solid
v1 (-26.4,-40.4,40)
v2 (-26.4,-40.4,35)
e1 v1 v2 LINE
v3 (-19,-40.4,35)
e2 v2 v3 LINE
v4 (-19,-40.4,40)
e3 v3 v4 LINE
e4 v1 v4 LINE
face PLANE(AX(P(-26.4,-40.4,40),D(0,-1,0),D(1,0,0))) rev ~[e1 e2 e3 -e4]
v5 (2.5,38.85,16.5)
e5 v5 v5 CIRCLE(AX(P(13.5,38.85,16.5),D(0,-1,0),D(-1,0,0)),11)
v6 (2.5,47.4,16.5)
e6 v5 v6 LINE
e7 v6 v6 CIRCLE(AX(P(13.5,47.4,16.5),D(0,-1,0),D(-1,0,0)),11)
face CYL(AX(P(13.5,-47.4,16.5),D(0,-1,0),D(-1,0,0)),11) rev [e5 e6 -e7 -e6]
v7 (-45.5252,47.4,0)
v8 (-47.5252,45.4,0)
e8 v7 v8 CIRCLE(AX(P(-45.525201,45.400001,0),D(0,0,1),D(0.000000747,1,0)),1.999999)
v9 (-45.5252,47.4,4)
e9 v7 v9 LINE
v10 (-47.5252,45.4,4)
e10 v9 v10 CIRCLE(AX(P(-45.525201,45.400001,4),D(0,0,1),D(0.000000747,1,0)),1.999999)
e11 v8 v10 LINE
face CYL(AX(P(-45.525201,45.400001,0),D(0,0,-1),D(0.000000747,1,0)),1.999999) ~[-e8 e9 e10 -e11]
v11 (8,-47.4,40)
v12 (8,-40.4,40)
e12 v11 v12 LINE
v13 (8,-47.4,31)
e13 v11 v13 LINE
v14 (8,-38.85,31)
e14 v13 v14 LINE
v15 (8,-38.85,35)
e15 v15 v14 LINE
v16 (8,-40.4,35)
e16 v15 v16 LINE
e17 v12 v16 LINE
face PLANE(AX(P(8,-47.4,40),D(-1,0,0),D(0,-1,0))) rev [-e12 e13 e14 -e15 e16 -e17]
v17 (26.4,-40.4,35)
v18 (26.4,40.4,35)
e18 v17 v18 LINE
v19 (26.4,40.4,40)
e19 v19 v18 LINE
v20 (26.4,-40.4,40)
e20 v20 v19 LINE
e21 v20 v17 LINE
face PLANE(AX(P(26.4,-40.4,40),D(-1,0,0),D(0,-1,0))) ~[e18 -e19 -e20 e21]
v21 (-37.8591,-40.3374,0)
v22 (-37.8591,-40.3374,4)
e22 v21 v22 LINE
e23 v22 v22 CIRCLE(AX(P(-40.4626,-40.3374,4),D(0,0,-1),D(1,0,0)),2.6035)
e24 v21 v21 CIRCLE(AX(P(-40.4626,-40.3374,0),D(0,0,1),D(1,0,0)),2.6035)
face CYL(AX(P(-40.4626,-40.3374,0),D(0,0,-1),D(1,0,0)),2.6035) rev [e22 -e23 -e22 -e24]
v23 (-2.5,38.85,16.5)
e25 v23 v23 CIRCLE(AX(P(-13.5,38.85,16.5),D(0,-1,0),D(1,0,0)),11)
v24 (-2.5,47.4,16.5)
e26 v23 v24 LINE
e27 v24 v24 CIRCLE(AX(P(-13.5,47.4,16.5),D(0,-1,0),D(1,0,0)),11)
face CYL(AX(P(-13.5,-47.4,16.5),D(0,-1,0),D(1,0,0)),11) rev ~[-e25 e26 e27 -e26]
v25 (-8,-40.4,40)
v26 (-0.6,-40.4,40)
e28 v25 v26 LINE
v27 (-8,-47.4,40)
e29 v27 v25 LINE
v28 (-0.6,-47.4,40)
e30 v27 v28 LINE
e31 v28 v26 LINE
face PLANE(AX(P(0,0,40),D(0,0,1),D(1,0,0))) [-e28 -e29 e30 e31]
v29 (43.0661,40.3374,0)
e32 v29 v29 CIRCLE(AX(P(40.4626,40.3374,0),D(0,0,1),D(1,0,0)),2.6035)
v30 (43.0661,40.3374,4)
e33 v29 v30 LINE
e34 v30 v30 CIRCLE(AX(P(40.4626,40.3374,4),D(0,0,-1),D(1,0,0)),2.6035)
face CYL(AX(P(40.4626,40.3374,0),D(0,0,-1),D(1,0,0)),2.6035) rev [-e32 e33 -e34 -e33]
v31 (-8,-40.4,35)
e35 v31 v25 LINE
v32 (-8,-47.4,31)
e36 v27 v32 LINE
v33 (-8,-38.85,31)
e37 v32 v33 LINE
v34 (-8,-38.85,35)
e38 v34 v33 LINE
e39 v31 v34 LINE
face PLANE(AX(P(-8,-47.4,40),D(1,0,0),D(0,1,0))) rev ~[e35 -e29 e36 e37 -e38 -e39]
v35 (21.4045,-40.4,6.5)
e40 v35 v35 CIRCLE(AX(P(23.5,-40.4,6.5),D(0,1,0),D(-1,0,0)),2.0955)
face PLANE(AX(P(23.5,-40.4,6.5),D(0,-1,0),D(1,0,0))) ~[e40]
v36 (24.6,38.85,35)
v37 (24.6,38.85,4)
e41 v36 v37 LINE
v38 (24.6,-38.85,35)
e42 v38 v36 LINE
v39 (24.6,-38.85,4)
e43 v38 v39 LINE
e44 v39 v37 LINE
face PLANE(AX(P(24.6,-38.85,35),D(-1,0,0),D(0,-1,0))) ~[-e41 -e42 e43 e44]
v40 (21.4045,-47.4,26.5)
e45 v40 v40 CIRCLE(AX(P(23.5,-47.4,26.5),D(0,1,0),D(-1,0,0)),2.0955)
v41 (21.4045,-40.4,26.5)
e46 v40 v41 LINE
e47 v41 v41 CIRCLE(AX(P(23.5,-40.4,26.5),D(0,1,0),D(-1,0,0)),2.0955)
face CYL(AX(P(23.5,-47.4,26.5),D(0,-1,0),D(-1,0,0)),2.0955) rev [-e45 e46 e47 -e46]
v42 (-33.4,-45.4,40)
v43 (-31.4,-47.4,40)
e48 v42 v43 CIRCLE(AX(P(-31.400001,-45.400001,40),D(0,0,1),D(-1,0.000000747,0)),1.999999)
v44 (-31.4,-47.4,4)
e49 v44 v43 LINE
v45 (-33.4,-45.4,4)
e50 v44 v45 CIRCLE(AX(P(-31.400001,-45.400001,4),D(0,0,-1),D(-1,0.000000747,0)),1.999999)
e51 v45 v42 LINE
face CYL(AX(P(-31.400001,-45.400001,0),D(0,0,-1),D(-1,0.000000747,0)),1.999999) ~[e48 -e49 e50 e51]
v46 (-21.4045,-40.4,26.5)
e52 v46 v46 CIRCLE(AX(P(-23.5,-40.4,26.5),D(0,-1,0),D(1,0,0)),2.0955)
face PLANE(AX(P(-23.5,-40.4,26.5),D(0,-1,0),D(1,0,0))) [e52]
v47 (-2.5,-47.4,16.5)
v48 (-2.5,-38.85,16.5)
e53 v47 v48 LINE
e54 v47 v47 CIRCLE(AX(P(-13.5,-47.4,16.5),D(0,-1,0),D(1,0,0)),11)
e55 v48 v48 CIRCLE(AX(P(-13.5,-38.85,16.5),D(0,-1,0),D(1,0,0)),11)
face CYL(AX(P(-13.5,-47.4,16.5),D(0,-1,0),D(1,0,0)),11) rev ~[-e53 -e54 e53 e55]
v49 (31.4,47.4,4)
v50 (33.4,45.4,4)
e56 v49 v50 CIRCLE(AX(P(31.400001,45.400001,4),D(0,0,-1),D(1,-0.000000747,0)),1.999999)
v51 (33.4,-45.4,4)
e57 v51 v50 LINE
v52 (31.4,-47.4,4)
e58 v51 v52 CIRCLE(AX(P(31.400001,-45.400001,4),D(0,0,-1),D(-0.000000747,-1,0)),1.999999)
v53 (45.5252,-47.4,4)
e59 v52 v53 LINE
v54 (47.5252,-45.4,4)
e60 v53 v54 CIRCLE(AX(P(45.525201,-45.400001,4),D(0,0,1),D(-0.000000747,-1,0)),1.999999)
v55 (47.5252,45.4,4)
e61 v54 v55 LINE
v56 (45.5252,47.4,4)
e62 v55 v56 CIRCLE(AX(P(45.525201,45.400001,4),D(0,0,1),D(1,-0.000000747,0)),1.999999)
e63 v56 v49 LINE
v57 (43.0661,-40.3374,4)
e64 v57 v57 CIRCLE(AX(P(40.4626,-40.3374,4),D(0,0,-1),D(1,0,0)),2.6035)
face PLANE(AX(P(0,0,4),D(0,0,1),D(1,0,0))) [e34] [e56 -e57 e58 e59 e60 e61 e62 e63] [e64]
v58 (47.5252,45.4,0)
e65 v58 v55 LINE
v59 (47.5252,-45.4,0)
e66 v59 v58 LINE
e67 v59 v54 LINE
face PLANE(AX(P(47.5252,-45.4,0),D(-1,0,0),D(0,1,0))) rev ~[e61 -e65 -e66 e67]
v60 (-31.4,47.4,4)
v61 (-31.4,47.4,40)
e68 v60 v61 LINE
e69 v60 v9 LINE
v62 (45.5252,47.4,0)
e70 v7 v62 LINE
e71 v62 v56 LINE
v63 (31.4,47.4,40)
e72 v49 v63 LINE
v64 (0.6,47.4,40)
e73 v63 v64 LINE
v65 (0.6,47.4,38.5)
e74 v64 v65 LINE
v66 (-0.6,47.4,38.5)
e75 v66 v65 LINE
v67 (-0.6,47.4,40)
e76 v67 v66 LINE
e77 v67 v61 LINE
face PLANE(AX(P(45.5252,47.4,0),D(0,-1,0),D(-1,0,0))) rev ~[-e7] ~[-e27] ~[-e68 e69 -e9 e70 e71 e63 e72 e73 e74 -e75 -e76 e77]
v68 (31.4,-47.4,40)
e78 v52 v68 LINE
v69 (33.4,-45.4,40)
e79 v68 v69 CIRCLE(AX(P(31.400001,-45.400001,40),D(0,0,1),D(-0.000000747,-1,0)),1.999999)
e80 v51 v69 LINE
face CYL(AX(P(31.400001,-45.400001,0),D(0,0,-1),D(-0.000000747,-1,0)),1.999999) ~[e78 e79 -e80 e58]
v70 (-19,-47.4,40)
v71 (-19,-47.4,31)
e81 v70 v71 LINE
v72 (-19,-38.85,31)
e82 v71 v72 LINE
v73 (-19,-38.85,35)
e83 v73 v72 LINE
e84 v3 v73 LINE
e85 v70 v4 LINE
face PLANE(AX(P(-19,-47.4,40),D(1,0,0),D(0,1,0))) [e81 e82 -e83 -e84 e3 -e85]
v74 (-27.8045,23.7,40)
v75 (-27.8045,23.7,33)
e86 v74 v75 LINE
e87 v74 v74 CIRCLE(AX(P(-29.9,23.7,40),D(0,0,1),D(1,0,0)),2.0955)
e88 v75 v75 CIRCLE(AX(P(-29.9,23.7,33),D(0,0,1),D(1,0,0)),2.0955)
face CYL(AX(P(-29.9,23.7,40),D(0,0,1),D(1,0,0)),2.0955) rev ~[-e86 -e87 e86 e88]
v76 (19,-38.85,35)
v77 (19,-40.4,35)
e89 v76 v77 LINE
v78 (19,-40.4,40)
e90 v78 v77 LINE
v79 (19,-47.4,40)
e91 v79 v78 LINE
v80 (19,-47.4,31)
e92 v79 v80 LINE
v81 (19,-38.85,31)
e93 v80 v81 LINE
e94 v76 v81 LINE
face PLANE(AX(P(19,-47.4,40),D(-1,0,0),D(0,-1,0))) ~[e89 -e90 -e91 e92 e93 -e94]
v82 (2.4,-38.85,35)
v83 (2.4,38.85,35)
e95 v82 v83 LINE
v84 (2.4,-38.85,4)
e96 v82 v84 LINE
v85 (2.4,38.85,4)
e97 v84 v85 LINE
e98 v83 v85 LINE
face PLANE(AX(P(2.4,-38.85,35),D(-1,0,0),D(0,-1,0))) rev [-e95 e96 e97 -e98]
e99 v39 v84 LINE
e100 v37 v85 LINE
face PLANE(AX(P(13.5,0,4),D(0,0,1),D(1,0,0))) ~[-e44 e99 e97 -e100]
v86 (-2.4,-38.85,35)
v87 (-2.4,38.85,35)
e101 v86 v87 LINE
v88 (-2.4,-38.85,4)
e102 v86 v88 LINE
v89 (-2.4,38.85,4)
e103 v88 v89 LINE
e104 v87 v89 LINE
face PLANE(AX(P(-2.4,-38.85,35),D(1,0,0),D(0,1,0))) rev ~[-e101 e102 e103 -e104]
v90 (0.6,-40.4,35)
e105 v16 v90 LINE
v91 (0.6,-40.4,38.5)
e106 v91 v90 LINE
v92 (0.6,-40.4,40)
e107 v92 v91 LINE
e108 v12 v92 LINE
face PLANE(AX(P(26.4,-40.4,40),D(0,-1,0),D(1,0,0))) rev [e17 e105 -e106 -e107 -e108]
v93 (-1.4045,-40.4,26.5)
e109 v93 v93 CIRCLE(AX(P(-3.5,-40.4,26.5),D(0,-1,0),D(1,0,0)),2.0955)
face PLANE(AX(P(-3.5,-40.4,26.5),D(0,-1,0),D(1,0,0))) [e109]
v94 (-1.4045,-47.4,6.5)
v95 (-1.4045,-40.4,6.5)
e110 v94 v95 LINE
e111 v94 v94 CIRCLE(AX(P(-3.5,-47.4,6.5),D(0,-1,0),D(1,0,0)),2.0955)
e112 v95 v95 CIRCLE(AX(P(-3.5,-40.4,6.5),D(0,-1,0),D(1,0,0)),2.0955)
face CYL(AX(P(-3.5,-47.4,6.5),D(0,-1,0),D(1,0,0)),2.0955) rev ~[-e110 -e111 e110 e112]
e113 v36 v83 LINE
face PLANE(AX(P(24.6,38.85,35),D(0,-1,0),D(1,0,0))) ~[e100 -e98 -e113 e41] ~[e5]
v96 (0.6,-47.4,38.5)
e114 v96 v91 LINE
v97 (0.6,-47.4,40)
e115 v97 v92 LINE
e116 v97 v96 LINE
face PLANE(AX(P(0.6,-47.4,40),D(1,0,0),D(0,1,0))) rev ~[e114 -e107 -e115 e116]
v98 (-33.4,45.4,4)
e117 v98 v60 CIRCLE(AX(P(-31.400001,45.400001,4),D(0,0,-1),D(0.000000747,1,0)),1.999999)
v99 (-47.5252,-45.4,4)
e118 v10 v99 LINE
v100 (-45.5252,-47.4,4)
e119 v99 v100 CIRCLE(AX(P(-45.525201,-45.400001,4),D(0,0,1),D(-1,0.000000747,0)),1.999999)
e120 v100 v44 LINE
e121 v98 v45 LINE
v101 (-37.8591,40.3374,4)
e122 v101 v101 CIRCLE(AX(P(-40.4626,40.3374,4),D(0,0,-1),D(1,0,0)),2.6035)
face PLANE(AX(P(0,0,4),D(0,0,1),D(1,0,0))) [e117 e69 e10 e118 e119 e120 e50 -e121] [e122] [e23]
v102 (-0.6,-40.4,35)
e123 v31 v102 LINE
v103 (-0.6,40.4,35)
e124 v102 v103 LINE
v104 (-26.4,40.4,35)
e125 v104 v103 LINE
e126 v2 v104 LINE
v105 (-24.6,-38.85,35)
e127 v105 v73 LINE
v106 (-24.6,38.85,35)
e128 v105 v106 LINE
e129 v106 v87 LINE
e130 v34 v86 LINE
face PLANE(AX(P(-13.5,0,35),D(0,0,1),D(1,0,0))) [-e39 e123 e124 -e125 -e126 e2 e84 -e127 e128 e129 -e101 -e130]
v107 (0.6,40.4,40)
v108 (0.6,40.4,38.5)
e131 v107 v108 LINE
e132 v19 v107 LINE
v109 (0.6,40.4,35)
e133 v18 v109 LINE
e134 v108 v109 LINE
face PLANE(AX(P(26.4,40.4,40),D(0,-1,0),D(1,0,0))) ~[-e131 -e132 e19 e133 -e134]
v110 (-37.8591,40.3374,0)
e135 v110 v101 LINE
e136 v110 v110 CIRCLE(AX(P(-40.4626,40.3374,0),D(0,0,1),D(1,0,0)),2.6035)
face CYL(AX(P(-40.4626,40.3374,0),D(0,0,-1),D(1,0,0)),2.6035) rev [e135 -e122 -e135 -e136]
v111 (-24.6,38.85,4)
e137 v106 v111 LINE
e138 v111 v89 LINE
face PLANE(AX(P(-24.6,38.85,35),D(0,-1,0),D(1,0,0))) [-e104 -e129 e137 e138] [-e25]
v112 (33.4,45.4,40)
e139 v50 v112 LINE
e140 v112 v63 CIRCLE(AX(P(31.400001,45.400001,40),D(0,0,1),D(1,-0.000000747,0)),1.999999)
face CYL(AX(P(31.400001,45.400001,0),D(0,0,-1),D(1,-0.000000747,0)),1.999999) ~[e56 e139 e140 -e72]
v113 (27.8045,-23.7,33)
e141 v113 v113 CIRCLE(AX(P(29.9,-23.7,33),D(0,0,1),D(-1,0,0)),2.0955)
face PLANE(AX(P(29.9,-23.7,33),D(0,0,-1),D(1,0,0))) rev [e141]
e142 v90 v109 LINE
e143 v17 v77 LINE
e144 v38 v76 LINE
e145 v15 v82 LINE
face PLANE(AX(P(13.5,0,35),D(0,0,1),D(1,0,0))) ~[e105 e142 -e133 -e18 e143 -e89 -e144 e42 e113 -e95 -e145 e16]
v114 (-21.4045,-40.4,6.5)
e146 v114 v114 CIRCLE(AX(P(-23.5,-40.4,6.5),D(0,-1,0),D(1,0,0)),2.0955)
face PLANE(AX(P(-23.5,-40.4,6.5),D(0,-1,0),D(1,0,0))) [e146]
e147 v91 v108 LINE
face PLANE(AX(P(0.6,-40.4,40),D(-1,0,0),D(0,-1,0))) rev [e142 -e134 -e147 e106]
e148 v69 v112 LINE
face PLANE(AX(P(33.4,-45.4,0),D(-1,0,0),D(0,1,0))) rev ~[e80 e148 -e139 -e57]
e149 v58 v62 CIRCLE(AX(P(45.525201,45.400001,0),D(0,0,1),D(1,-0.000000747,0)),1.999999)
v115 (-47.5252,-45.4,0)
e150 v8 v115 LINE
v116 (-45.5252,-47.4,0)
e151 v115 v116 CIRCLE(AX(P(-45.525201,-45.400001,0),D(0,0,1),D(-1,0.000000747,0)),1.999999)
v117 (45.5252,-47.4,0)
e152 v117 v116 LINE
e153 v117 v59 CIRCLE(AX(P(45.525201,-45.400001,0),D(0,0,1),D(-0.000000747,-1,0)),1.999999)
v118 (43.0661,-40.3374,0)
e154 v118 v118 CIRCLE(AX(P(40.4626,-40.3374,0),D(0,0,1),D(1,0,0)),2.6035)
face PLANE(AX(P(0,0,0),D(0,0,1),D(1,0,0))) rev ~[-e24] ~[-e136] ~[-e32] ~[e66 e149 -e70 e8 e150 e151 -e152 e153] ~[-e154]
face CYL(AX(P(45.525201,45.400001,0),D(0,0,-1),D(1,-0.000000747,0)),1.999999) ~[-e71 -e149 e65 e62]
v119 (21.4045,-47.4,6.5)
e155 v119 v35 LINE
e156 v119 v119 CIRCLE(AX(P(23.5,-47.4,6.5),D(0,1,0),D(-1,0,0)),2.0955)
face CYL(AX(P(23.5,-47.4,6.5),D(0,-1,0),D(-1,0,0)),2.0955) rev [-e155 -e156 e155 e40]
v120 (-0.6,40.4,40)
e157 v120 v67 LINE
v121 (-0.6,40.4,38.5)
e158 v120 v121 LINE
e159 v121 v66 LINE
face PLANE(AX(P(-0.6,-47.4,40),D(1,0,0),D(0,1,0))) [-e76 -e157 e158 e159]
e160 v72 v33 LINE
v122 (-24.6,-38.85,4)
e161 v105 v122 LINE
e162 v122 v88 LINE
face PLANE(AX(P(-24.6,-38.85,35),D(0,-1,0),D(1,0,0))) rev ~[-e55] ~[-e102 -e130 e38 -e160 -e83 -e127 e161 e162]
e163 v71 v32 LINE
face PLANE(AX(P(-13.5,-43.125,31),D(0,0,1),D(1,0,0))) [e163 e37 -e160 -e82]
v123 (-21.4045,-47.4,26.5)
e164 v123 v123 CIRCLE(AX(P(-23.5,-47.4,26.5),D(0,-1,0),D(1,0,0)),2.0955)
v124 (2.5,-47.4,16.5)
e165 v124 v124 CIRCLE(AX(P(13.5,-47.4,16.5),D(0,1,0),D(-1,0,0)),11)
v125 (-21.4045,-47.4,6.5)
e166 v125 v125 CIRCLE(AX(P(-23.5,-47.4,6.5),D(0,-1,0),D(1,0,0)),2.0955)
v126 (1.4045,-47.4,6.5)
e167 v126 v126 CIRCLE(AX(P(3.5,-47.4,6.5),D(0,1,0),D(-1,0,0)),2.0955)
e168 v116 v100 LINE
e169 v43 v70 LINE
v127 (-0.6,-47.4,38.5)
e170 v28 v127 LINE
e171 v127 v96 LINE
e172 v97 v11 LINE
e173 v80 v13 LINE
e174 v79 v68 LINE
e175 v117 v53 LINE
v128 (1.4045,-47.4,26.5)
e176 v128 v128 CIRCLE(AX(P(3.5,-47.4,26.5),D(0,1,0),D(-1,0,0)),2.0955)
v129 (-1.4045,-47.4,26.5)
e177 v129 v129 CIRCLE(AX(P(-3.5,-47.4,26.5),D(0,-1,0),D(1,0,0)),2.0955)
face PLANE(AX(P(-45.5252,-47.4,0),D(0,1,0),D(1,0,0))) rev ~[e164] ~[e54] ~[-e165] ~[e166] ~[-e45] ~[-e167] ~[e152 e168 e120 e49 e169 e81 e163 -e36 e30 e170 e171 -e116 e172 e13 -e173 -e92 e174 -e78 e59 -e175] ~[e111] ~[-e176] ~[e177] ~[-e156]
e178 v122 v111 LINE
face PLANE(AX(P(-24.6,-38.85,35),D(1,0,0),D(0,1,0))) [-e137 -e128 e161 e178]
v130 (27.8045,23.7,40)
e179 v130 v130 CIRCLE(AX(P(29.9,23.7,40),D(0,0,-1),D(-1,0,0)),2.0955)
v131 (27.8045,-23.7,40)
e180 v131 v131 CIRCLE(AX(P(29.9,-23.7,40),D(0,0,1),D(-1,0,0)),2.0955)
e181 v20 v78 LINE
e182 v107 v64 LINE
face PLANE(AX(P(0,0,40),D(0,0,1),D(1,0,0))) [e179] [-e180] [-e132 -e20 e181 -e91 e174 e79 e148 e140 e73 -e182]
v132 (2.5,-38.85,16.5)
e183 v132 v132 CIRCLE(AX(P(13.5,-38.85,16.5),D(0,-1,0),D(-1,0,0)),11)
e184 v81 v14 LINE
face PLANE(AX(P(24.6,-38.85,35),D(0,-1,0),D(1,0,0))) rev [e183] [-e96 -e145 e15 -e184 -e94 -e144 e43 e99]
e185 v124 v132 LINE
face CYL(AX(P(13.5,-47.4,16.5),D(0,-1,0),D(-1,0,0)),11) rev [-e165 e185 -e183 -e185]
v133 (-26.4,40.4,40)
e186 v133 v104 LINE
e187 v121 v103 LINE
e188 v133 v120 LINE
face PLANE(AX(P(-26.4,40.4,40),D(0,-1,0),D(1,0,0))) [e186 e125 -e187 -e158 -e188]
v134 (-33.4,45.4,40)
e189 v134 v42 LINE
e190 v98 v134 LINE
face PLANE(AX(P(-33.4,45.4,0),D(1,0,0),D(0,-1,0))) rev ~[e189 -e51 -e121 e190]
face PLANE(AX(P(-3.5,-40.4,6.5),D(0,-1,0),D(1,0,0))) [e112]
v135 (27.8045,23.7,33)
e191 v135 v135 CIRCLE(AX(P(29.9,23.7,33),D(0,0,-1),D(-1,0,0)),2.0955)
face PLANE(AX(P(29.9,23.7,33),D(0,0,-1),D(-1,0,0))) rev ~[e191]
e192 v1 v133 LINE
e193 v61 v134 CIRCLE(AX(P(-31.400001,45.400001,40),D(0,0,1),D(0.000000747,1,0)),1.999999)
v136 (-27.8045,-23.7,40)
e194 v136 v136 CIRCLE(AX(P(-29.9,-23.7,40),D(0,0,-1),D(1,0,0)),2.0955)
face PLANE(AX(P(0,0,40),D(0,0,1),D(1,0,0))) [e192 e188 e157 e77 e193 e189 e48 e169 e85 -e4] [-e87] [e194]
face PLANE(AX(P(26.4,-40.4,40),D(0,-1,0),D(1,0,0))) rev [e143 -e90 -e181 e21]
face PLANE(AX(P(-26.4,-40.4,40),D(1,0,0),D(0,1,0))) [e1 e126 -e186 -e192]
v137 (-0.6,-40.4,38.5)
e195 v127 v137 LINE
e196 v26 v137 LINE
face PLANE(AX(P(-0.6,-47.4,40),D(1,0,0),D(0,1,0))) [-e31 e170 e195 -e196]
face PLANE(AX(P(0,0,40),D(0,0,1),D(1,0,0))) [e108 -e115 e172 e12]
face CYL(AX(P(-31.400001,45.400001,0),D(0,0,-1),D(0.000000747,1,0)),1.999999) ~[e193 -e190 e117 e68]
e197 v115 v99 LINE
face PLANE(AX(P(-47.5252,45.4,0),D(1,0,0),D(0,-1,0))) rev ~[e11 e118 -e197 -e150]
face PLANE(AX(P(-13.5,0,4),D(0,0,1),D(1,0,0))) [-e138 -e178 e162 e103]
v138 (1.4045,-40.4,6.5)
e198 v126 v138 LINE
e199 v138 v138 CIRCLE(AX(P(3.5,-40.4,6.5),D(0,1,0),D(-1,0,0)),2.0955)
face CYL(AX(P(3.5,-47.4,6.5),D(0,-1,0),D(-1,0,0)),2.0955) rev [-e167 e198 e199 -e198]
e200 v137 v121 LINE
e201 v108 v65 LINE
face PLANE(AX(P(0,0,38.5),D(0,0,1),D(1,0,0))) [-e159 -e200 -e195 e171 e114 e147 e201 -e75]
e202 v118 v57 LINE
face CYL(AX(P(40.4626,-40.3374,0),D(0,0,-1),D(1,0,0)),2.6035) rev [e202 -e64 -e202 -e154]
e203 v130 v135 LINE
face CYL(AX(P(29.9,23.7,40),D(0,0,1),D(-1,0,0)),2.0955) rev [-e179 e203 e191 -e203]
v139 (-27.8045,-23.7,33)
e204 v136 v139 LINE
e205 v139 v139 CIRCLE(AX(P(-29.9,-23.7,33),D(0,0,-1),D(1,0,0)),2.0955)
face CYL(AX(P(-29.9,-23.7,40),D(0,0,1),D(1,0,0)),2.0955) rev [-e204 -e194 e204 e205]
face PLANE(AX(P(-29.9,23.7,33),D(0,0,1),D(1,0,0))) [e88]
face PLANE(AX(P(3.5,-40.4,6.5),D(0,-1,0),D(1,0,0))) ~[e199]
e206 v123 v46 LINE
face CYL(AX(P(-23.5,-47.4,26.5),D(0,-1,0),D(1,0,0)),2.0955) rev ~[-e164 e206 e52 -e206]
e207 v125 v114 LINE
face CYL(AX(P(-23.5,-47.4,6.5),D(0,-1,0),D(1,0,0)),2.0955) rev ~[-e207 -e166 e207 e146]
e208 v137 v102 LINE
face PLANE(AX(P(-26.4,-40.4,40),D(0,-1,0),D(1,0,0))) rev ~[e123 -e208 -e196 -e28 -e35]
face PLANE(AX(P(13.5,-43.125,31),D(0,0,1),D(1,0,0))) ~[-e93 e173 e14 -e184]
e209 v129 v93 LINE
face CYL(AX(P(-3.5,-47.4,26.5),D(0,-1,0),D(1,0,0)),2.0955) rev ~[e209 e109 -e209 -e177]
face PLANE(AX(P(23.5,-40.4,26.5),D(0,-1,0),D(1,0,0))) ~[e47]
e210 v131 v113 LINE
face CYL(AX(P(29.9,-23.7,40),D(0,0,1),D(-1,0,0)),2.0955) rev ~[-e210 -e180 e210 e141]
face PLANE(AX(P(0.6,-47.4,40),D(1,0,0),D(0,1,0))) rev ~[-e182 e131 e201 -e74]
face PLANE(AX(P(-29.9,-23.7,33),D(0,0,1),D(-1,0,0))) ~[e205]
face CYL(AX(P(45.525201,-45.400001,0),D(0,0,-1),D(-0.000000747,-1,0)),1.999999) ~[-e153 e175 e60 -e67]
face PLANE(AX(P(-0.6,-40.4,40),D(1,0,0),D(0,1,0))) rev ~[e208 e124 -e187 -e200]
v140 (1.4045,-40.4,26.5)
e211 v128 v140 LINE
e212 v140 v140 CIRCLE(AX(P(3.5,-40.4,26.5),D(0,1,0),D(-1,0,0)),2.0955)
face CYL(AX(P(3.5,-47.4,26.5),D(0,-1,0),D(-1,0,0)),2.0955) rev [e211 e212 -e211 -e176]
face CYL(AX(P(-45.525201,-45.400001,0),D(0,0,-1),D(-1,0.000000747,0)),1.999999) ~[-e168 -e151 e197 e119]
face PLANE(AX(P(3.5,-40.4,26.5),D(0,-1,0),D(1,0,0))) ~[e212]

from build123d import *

# Parameters (mm, degrees)
PAD_DEPTH                     = 40
PAD001_DEPTH                  = 4
SKETCH002_W                   = 1.2
SKETCH002_H                   = 94.8
POCKET001_DEPTH               = 1.5
SKETCH003_W                   = 25.8
SKETCH003_H                   = 80.8
POCKET_DEPTH                  = 5
SKETCH004_W                   = 22.2
SKETCH004_H                   = 77.7
POCKET002_DEPTH               = 31
SKETCH005_R                   = 2.0955
POCKET003_DEPTH               = 7
SKETCH006_R                   = 11
POCKET004_DEPTH               = 374.955376
SKETCH010_W                   = 11
SKETCH010_H                   = 8.55
POCKET007_DEPTH               = 9
SKETCH009_R                   = 2.6035
POCKET006_DEPTH               = 40.001
SKETCH008_R                   = 2.0955
POCKET005_DEPTH               = 7
SKETCH008_MIRRORED004_2_R     = 2.0955
POCKET005_MIRRORED004_2_DEPTH = 7


with BuildPart() as part:
    # Sketch → Pad (new body)
    with BuildSketch(Plane.XY):
        with BuildLine():
            Line((-33.4, 45.4), (-33.4, -45.4))
            ThreePointArc((-33.4, -45.4), (-32.814214, -46.814214), (-31.4, -47.4))
            Line((-31.4, -47.4), (31.4, -47.4))
            ThreePointArc((31.4, -47.4), (32.814214, -46.814214), (33.4, -45.4))
            Line((33.4, -45.4), (33.4, 45.4))
            ThreePointArc((33.4, 45.4), (32.814214, 46.814214), (31.4, 47.4))
            Line((31.4, 47.4), (-31.4, 47.4))
            ThreePointArc((-31.4, 47.4), (-32.814214, 46.814214), (-33.4, 45.4))
        make_face()
    extrude(amount=PAD_DEPTH)

    # Sketch007 → Pad001 (join)
    with BuildSketch(Plane.XY):
        with BuildLine():
            Line((-47.5252, 45.4), (-47.5252, -45.4))
            ThreePointArc((-47.5252, -45.4), (-46.939414, -46.814214), (-45.5252, -47.4))
            Line((-45.5252, -47.4), (45.5252, -47.4))
            ThreePointArc((45.5252, -47.4), (46.939414, -46.814214), (47.5252, -45.4))
            Line((47.5252, -45.4), (47.5252, 45.4))
            ThreePointArc((47.5252, 45.4), (46.939414, 46.814214), (45.5252, 47.4))
            Line((45.5252, 47.4), (-45.5252, 47.4))
            ThreePointArc((-45.5252, 47.4), (-46.939414, 46.814214), (-47.5252, 45.4))
        make_face()
    extrude(amount=PAD001_DEPTH)

    # Sketch002 (on DatumPlane) → Pocket001 (cut)
    with BuildSketch(Plane.XY.offset(40)):
        Rectangle(SKETCH002_W, SKETCH002_H)
    extrude(amount=-POCKET001_DEPTH, mode=Mode.SUBTRACT)

    # Sketch003 (on DatumPlane) → Pocket (cut)
    with BuildSketch(Plane.XY.offset(40)):
        with Locations((-13.5, 0)):
            Rectangle(SKETCH003_W, SKETCH003_H)
    pocket = extrude(amount=-POCKET_DEPTH, mode=Mode.SUBTRACT)

    # Mirrored: Pocket across Sketch003 V_Axis
    add(pocket.mirror(Plane(origin=(0, 0, 40), x_dir=(0, 0, 1), z_dir=(1, 0, 0))), mode=Mode.SUBTRACT)

    # Sketch004 (on DatumPlane) → Pocket002 (cut)
    with BuildSketch(Plane.XY.offset(35)):
        with Locations((-13.5, 0)):
            Rectangle(SKETCH004_W, SKETCH004_H)
    pocket002 = extrude(amount=-POCKET002_DEPTH, mode=Mode.SUBTRACT)

    # Mirrored001: Pocket002 across Sketch004 V_Axis
    add(pocket002.mirror(Plane(origin=(0, 0, 35), x_dir=(0, 0, 1), z_dir=(1, 0, 0))), mode=Mode.SUBTRACT)

    # Sketch005 (on DatumPlane) → Pocket003 (cut)
    with BuildSketch(Plane.XZ.offset(47.4)):
        with Locations((-23.5, 26.5)):
            Circle(SKETCH005_R)
        with Locations((-3.5, 26.5)):
            Circle(SKETCH005_R)
        with Locations((-23.5, 6.5)):
            Circle(SKETCH005_R)
        with Locations((-3.5, 6.5)):
            Circle(SKETCH005_R)
    pocket003 = extrude(amount=-POCKET003_DEPTH, mode=Mode.SUBTRACT)

    # Mirrored002: Pocket003 across Sketch005 V_Axis
    add(pocket003.mirror(Plane(origin=(0, -47.4, 0), x_dir=(0, -1, 0), z_dir=(1, 0, 0))), mode=Mode.SUBTRACT)

    # Sketch006 (on DatumPlane) → Pocket004 (cut, through all)
    with BuildSketch(Plane.XZ.offset(47.4)):
        with Locations((-13.5, 16.5)):
            Circle(SKETCH006_R)
    pocket004 = extrude(amount=-POCKET004_DEPTH, mode=Mode.SUBTRACT)

    # Mirrored003: Pocket004 across Sketch006 V_Axis
    add(pocket004.mirror(Plane(origin=(0, -47.4, 0), x_dir=(0, -1, 0), z_dir=(1, 0, 0))), mode=Mode.SUBTRACT)

    # Sketch010 (on DatumPlane) → Pocket007 (cut)
    with BuildSketch(Plane.XY.offset(40)):
        with Locations((-13.5, -43.125)):
            Rectangle(SKETCH010_W, SKETCH010_H)
    pocket007 = extrude(amount=-POCKET007_DEPTH, mode=Mode.SUBTRACT)

    # Mirrored006: Pocket007 across Sketch010 V_Axis
    add(pocket007.mirror(Plane(origin=(0, 0, 40), x_dir=(0, 0, 1), z_dir=(1, 0, 0))), mode=Mode.SUBTRACT)

    # Sketch009 → Pocket006 (cut, through all)
    with BuildSketch(Plane.XY):
        with Locations((-40.4626, 40.3374)):
            Circle(SKETCH009_R)
        with Locations((40.4626, 40.3374)):
            Circle(SKETCH009_R)
        with Locations((-40.4626, -40.3374)):
            Circle(SKETCH009_R)
        with Locations((40.4626, -40.3374)):
            Circle(SKETCH009_R)
    extrude(amount=POCKET006_DEPTH, mode=Mode.SUBTRACT)

    # Sketch008 (on DatumPlane) → Pocket005 (cut)
    with BuildSketch(Plane.XY.offset(40)):
        with Locations((-29.9, 23.7)):
            Circle(SKETCH008_R)
    pocket005 = extrude(amount=-POCKET005_DEPTH, mode=Mode.SUBTRACT)

    # Sketch008 Mirrored004 2 → Pocket005 Mirrored004 2 (cut)
    with BuildSketch(Plane(origin=(0, 0, 40), x_dir=(-1, 0, 0), z_dir=(0, 0, -1))):
        with Locations((-29.9, 23.7)):
            Circle(SKETCH008_MIRRORED004_2_R)
    pocket005_mirrored004_2 = extrude(amount=POCKET005_MIRRORED004_2_DEPTH, mode=Mode.SUBTRACT)

    # Mirrored005: Pocket005, Pocket005 Mirrored004 2 across XZ
    add(pocket005.mirror(Plane.XZ), mode=Mode.SUBTRACT)
    add(pocket005_mirrored004_2.mirror(Plane.XZ), mode=Mode.SUBTRACT)


solid = part.part
